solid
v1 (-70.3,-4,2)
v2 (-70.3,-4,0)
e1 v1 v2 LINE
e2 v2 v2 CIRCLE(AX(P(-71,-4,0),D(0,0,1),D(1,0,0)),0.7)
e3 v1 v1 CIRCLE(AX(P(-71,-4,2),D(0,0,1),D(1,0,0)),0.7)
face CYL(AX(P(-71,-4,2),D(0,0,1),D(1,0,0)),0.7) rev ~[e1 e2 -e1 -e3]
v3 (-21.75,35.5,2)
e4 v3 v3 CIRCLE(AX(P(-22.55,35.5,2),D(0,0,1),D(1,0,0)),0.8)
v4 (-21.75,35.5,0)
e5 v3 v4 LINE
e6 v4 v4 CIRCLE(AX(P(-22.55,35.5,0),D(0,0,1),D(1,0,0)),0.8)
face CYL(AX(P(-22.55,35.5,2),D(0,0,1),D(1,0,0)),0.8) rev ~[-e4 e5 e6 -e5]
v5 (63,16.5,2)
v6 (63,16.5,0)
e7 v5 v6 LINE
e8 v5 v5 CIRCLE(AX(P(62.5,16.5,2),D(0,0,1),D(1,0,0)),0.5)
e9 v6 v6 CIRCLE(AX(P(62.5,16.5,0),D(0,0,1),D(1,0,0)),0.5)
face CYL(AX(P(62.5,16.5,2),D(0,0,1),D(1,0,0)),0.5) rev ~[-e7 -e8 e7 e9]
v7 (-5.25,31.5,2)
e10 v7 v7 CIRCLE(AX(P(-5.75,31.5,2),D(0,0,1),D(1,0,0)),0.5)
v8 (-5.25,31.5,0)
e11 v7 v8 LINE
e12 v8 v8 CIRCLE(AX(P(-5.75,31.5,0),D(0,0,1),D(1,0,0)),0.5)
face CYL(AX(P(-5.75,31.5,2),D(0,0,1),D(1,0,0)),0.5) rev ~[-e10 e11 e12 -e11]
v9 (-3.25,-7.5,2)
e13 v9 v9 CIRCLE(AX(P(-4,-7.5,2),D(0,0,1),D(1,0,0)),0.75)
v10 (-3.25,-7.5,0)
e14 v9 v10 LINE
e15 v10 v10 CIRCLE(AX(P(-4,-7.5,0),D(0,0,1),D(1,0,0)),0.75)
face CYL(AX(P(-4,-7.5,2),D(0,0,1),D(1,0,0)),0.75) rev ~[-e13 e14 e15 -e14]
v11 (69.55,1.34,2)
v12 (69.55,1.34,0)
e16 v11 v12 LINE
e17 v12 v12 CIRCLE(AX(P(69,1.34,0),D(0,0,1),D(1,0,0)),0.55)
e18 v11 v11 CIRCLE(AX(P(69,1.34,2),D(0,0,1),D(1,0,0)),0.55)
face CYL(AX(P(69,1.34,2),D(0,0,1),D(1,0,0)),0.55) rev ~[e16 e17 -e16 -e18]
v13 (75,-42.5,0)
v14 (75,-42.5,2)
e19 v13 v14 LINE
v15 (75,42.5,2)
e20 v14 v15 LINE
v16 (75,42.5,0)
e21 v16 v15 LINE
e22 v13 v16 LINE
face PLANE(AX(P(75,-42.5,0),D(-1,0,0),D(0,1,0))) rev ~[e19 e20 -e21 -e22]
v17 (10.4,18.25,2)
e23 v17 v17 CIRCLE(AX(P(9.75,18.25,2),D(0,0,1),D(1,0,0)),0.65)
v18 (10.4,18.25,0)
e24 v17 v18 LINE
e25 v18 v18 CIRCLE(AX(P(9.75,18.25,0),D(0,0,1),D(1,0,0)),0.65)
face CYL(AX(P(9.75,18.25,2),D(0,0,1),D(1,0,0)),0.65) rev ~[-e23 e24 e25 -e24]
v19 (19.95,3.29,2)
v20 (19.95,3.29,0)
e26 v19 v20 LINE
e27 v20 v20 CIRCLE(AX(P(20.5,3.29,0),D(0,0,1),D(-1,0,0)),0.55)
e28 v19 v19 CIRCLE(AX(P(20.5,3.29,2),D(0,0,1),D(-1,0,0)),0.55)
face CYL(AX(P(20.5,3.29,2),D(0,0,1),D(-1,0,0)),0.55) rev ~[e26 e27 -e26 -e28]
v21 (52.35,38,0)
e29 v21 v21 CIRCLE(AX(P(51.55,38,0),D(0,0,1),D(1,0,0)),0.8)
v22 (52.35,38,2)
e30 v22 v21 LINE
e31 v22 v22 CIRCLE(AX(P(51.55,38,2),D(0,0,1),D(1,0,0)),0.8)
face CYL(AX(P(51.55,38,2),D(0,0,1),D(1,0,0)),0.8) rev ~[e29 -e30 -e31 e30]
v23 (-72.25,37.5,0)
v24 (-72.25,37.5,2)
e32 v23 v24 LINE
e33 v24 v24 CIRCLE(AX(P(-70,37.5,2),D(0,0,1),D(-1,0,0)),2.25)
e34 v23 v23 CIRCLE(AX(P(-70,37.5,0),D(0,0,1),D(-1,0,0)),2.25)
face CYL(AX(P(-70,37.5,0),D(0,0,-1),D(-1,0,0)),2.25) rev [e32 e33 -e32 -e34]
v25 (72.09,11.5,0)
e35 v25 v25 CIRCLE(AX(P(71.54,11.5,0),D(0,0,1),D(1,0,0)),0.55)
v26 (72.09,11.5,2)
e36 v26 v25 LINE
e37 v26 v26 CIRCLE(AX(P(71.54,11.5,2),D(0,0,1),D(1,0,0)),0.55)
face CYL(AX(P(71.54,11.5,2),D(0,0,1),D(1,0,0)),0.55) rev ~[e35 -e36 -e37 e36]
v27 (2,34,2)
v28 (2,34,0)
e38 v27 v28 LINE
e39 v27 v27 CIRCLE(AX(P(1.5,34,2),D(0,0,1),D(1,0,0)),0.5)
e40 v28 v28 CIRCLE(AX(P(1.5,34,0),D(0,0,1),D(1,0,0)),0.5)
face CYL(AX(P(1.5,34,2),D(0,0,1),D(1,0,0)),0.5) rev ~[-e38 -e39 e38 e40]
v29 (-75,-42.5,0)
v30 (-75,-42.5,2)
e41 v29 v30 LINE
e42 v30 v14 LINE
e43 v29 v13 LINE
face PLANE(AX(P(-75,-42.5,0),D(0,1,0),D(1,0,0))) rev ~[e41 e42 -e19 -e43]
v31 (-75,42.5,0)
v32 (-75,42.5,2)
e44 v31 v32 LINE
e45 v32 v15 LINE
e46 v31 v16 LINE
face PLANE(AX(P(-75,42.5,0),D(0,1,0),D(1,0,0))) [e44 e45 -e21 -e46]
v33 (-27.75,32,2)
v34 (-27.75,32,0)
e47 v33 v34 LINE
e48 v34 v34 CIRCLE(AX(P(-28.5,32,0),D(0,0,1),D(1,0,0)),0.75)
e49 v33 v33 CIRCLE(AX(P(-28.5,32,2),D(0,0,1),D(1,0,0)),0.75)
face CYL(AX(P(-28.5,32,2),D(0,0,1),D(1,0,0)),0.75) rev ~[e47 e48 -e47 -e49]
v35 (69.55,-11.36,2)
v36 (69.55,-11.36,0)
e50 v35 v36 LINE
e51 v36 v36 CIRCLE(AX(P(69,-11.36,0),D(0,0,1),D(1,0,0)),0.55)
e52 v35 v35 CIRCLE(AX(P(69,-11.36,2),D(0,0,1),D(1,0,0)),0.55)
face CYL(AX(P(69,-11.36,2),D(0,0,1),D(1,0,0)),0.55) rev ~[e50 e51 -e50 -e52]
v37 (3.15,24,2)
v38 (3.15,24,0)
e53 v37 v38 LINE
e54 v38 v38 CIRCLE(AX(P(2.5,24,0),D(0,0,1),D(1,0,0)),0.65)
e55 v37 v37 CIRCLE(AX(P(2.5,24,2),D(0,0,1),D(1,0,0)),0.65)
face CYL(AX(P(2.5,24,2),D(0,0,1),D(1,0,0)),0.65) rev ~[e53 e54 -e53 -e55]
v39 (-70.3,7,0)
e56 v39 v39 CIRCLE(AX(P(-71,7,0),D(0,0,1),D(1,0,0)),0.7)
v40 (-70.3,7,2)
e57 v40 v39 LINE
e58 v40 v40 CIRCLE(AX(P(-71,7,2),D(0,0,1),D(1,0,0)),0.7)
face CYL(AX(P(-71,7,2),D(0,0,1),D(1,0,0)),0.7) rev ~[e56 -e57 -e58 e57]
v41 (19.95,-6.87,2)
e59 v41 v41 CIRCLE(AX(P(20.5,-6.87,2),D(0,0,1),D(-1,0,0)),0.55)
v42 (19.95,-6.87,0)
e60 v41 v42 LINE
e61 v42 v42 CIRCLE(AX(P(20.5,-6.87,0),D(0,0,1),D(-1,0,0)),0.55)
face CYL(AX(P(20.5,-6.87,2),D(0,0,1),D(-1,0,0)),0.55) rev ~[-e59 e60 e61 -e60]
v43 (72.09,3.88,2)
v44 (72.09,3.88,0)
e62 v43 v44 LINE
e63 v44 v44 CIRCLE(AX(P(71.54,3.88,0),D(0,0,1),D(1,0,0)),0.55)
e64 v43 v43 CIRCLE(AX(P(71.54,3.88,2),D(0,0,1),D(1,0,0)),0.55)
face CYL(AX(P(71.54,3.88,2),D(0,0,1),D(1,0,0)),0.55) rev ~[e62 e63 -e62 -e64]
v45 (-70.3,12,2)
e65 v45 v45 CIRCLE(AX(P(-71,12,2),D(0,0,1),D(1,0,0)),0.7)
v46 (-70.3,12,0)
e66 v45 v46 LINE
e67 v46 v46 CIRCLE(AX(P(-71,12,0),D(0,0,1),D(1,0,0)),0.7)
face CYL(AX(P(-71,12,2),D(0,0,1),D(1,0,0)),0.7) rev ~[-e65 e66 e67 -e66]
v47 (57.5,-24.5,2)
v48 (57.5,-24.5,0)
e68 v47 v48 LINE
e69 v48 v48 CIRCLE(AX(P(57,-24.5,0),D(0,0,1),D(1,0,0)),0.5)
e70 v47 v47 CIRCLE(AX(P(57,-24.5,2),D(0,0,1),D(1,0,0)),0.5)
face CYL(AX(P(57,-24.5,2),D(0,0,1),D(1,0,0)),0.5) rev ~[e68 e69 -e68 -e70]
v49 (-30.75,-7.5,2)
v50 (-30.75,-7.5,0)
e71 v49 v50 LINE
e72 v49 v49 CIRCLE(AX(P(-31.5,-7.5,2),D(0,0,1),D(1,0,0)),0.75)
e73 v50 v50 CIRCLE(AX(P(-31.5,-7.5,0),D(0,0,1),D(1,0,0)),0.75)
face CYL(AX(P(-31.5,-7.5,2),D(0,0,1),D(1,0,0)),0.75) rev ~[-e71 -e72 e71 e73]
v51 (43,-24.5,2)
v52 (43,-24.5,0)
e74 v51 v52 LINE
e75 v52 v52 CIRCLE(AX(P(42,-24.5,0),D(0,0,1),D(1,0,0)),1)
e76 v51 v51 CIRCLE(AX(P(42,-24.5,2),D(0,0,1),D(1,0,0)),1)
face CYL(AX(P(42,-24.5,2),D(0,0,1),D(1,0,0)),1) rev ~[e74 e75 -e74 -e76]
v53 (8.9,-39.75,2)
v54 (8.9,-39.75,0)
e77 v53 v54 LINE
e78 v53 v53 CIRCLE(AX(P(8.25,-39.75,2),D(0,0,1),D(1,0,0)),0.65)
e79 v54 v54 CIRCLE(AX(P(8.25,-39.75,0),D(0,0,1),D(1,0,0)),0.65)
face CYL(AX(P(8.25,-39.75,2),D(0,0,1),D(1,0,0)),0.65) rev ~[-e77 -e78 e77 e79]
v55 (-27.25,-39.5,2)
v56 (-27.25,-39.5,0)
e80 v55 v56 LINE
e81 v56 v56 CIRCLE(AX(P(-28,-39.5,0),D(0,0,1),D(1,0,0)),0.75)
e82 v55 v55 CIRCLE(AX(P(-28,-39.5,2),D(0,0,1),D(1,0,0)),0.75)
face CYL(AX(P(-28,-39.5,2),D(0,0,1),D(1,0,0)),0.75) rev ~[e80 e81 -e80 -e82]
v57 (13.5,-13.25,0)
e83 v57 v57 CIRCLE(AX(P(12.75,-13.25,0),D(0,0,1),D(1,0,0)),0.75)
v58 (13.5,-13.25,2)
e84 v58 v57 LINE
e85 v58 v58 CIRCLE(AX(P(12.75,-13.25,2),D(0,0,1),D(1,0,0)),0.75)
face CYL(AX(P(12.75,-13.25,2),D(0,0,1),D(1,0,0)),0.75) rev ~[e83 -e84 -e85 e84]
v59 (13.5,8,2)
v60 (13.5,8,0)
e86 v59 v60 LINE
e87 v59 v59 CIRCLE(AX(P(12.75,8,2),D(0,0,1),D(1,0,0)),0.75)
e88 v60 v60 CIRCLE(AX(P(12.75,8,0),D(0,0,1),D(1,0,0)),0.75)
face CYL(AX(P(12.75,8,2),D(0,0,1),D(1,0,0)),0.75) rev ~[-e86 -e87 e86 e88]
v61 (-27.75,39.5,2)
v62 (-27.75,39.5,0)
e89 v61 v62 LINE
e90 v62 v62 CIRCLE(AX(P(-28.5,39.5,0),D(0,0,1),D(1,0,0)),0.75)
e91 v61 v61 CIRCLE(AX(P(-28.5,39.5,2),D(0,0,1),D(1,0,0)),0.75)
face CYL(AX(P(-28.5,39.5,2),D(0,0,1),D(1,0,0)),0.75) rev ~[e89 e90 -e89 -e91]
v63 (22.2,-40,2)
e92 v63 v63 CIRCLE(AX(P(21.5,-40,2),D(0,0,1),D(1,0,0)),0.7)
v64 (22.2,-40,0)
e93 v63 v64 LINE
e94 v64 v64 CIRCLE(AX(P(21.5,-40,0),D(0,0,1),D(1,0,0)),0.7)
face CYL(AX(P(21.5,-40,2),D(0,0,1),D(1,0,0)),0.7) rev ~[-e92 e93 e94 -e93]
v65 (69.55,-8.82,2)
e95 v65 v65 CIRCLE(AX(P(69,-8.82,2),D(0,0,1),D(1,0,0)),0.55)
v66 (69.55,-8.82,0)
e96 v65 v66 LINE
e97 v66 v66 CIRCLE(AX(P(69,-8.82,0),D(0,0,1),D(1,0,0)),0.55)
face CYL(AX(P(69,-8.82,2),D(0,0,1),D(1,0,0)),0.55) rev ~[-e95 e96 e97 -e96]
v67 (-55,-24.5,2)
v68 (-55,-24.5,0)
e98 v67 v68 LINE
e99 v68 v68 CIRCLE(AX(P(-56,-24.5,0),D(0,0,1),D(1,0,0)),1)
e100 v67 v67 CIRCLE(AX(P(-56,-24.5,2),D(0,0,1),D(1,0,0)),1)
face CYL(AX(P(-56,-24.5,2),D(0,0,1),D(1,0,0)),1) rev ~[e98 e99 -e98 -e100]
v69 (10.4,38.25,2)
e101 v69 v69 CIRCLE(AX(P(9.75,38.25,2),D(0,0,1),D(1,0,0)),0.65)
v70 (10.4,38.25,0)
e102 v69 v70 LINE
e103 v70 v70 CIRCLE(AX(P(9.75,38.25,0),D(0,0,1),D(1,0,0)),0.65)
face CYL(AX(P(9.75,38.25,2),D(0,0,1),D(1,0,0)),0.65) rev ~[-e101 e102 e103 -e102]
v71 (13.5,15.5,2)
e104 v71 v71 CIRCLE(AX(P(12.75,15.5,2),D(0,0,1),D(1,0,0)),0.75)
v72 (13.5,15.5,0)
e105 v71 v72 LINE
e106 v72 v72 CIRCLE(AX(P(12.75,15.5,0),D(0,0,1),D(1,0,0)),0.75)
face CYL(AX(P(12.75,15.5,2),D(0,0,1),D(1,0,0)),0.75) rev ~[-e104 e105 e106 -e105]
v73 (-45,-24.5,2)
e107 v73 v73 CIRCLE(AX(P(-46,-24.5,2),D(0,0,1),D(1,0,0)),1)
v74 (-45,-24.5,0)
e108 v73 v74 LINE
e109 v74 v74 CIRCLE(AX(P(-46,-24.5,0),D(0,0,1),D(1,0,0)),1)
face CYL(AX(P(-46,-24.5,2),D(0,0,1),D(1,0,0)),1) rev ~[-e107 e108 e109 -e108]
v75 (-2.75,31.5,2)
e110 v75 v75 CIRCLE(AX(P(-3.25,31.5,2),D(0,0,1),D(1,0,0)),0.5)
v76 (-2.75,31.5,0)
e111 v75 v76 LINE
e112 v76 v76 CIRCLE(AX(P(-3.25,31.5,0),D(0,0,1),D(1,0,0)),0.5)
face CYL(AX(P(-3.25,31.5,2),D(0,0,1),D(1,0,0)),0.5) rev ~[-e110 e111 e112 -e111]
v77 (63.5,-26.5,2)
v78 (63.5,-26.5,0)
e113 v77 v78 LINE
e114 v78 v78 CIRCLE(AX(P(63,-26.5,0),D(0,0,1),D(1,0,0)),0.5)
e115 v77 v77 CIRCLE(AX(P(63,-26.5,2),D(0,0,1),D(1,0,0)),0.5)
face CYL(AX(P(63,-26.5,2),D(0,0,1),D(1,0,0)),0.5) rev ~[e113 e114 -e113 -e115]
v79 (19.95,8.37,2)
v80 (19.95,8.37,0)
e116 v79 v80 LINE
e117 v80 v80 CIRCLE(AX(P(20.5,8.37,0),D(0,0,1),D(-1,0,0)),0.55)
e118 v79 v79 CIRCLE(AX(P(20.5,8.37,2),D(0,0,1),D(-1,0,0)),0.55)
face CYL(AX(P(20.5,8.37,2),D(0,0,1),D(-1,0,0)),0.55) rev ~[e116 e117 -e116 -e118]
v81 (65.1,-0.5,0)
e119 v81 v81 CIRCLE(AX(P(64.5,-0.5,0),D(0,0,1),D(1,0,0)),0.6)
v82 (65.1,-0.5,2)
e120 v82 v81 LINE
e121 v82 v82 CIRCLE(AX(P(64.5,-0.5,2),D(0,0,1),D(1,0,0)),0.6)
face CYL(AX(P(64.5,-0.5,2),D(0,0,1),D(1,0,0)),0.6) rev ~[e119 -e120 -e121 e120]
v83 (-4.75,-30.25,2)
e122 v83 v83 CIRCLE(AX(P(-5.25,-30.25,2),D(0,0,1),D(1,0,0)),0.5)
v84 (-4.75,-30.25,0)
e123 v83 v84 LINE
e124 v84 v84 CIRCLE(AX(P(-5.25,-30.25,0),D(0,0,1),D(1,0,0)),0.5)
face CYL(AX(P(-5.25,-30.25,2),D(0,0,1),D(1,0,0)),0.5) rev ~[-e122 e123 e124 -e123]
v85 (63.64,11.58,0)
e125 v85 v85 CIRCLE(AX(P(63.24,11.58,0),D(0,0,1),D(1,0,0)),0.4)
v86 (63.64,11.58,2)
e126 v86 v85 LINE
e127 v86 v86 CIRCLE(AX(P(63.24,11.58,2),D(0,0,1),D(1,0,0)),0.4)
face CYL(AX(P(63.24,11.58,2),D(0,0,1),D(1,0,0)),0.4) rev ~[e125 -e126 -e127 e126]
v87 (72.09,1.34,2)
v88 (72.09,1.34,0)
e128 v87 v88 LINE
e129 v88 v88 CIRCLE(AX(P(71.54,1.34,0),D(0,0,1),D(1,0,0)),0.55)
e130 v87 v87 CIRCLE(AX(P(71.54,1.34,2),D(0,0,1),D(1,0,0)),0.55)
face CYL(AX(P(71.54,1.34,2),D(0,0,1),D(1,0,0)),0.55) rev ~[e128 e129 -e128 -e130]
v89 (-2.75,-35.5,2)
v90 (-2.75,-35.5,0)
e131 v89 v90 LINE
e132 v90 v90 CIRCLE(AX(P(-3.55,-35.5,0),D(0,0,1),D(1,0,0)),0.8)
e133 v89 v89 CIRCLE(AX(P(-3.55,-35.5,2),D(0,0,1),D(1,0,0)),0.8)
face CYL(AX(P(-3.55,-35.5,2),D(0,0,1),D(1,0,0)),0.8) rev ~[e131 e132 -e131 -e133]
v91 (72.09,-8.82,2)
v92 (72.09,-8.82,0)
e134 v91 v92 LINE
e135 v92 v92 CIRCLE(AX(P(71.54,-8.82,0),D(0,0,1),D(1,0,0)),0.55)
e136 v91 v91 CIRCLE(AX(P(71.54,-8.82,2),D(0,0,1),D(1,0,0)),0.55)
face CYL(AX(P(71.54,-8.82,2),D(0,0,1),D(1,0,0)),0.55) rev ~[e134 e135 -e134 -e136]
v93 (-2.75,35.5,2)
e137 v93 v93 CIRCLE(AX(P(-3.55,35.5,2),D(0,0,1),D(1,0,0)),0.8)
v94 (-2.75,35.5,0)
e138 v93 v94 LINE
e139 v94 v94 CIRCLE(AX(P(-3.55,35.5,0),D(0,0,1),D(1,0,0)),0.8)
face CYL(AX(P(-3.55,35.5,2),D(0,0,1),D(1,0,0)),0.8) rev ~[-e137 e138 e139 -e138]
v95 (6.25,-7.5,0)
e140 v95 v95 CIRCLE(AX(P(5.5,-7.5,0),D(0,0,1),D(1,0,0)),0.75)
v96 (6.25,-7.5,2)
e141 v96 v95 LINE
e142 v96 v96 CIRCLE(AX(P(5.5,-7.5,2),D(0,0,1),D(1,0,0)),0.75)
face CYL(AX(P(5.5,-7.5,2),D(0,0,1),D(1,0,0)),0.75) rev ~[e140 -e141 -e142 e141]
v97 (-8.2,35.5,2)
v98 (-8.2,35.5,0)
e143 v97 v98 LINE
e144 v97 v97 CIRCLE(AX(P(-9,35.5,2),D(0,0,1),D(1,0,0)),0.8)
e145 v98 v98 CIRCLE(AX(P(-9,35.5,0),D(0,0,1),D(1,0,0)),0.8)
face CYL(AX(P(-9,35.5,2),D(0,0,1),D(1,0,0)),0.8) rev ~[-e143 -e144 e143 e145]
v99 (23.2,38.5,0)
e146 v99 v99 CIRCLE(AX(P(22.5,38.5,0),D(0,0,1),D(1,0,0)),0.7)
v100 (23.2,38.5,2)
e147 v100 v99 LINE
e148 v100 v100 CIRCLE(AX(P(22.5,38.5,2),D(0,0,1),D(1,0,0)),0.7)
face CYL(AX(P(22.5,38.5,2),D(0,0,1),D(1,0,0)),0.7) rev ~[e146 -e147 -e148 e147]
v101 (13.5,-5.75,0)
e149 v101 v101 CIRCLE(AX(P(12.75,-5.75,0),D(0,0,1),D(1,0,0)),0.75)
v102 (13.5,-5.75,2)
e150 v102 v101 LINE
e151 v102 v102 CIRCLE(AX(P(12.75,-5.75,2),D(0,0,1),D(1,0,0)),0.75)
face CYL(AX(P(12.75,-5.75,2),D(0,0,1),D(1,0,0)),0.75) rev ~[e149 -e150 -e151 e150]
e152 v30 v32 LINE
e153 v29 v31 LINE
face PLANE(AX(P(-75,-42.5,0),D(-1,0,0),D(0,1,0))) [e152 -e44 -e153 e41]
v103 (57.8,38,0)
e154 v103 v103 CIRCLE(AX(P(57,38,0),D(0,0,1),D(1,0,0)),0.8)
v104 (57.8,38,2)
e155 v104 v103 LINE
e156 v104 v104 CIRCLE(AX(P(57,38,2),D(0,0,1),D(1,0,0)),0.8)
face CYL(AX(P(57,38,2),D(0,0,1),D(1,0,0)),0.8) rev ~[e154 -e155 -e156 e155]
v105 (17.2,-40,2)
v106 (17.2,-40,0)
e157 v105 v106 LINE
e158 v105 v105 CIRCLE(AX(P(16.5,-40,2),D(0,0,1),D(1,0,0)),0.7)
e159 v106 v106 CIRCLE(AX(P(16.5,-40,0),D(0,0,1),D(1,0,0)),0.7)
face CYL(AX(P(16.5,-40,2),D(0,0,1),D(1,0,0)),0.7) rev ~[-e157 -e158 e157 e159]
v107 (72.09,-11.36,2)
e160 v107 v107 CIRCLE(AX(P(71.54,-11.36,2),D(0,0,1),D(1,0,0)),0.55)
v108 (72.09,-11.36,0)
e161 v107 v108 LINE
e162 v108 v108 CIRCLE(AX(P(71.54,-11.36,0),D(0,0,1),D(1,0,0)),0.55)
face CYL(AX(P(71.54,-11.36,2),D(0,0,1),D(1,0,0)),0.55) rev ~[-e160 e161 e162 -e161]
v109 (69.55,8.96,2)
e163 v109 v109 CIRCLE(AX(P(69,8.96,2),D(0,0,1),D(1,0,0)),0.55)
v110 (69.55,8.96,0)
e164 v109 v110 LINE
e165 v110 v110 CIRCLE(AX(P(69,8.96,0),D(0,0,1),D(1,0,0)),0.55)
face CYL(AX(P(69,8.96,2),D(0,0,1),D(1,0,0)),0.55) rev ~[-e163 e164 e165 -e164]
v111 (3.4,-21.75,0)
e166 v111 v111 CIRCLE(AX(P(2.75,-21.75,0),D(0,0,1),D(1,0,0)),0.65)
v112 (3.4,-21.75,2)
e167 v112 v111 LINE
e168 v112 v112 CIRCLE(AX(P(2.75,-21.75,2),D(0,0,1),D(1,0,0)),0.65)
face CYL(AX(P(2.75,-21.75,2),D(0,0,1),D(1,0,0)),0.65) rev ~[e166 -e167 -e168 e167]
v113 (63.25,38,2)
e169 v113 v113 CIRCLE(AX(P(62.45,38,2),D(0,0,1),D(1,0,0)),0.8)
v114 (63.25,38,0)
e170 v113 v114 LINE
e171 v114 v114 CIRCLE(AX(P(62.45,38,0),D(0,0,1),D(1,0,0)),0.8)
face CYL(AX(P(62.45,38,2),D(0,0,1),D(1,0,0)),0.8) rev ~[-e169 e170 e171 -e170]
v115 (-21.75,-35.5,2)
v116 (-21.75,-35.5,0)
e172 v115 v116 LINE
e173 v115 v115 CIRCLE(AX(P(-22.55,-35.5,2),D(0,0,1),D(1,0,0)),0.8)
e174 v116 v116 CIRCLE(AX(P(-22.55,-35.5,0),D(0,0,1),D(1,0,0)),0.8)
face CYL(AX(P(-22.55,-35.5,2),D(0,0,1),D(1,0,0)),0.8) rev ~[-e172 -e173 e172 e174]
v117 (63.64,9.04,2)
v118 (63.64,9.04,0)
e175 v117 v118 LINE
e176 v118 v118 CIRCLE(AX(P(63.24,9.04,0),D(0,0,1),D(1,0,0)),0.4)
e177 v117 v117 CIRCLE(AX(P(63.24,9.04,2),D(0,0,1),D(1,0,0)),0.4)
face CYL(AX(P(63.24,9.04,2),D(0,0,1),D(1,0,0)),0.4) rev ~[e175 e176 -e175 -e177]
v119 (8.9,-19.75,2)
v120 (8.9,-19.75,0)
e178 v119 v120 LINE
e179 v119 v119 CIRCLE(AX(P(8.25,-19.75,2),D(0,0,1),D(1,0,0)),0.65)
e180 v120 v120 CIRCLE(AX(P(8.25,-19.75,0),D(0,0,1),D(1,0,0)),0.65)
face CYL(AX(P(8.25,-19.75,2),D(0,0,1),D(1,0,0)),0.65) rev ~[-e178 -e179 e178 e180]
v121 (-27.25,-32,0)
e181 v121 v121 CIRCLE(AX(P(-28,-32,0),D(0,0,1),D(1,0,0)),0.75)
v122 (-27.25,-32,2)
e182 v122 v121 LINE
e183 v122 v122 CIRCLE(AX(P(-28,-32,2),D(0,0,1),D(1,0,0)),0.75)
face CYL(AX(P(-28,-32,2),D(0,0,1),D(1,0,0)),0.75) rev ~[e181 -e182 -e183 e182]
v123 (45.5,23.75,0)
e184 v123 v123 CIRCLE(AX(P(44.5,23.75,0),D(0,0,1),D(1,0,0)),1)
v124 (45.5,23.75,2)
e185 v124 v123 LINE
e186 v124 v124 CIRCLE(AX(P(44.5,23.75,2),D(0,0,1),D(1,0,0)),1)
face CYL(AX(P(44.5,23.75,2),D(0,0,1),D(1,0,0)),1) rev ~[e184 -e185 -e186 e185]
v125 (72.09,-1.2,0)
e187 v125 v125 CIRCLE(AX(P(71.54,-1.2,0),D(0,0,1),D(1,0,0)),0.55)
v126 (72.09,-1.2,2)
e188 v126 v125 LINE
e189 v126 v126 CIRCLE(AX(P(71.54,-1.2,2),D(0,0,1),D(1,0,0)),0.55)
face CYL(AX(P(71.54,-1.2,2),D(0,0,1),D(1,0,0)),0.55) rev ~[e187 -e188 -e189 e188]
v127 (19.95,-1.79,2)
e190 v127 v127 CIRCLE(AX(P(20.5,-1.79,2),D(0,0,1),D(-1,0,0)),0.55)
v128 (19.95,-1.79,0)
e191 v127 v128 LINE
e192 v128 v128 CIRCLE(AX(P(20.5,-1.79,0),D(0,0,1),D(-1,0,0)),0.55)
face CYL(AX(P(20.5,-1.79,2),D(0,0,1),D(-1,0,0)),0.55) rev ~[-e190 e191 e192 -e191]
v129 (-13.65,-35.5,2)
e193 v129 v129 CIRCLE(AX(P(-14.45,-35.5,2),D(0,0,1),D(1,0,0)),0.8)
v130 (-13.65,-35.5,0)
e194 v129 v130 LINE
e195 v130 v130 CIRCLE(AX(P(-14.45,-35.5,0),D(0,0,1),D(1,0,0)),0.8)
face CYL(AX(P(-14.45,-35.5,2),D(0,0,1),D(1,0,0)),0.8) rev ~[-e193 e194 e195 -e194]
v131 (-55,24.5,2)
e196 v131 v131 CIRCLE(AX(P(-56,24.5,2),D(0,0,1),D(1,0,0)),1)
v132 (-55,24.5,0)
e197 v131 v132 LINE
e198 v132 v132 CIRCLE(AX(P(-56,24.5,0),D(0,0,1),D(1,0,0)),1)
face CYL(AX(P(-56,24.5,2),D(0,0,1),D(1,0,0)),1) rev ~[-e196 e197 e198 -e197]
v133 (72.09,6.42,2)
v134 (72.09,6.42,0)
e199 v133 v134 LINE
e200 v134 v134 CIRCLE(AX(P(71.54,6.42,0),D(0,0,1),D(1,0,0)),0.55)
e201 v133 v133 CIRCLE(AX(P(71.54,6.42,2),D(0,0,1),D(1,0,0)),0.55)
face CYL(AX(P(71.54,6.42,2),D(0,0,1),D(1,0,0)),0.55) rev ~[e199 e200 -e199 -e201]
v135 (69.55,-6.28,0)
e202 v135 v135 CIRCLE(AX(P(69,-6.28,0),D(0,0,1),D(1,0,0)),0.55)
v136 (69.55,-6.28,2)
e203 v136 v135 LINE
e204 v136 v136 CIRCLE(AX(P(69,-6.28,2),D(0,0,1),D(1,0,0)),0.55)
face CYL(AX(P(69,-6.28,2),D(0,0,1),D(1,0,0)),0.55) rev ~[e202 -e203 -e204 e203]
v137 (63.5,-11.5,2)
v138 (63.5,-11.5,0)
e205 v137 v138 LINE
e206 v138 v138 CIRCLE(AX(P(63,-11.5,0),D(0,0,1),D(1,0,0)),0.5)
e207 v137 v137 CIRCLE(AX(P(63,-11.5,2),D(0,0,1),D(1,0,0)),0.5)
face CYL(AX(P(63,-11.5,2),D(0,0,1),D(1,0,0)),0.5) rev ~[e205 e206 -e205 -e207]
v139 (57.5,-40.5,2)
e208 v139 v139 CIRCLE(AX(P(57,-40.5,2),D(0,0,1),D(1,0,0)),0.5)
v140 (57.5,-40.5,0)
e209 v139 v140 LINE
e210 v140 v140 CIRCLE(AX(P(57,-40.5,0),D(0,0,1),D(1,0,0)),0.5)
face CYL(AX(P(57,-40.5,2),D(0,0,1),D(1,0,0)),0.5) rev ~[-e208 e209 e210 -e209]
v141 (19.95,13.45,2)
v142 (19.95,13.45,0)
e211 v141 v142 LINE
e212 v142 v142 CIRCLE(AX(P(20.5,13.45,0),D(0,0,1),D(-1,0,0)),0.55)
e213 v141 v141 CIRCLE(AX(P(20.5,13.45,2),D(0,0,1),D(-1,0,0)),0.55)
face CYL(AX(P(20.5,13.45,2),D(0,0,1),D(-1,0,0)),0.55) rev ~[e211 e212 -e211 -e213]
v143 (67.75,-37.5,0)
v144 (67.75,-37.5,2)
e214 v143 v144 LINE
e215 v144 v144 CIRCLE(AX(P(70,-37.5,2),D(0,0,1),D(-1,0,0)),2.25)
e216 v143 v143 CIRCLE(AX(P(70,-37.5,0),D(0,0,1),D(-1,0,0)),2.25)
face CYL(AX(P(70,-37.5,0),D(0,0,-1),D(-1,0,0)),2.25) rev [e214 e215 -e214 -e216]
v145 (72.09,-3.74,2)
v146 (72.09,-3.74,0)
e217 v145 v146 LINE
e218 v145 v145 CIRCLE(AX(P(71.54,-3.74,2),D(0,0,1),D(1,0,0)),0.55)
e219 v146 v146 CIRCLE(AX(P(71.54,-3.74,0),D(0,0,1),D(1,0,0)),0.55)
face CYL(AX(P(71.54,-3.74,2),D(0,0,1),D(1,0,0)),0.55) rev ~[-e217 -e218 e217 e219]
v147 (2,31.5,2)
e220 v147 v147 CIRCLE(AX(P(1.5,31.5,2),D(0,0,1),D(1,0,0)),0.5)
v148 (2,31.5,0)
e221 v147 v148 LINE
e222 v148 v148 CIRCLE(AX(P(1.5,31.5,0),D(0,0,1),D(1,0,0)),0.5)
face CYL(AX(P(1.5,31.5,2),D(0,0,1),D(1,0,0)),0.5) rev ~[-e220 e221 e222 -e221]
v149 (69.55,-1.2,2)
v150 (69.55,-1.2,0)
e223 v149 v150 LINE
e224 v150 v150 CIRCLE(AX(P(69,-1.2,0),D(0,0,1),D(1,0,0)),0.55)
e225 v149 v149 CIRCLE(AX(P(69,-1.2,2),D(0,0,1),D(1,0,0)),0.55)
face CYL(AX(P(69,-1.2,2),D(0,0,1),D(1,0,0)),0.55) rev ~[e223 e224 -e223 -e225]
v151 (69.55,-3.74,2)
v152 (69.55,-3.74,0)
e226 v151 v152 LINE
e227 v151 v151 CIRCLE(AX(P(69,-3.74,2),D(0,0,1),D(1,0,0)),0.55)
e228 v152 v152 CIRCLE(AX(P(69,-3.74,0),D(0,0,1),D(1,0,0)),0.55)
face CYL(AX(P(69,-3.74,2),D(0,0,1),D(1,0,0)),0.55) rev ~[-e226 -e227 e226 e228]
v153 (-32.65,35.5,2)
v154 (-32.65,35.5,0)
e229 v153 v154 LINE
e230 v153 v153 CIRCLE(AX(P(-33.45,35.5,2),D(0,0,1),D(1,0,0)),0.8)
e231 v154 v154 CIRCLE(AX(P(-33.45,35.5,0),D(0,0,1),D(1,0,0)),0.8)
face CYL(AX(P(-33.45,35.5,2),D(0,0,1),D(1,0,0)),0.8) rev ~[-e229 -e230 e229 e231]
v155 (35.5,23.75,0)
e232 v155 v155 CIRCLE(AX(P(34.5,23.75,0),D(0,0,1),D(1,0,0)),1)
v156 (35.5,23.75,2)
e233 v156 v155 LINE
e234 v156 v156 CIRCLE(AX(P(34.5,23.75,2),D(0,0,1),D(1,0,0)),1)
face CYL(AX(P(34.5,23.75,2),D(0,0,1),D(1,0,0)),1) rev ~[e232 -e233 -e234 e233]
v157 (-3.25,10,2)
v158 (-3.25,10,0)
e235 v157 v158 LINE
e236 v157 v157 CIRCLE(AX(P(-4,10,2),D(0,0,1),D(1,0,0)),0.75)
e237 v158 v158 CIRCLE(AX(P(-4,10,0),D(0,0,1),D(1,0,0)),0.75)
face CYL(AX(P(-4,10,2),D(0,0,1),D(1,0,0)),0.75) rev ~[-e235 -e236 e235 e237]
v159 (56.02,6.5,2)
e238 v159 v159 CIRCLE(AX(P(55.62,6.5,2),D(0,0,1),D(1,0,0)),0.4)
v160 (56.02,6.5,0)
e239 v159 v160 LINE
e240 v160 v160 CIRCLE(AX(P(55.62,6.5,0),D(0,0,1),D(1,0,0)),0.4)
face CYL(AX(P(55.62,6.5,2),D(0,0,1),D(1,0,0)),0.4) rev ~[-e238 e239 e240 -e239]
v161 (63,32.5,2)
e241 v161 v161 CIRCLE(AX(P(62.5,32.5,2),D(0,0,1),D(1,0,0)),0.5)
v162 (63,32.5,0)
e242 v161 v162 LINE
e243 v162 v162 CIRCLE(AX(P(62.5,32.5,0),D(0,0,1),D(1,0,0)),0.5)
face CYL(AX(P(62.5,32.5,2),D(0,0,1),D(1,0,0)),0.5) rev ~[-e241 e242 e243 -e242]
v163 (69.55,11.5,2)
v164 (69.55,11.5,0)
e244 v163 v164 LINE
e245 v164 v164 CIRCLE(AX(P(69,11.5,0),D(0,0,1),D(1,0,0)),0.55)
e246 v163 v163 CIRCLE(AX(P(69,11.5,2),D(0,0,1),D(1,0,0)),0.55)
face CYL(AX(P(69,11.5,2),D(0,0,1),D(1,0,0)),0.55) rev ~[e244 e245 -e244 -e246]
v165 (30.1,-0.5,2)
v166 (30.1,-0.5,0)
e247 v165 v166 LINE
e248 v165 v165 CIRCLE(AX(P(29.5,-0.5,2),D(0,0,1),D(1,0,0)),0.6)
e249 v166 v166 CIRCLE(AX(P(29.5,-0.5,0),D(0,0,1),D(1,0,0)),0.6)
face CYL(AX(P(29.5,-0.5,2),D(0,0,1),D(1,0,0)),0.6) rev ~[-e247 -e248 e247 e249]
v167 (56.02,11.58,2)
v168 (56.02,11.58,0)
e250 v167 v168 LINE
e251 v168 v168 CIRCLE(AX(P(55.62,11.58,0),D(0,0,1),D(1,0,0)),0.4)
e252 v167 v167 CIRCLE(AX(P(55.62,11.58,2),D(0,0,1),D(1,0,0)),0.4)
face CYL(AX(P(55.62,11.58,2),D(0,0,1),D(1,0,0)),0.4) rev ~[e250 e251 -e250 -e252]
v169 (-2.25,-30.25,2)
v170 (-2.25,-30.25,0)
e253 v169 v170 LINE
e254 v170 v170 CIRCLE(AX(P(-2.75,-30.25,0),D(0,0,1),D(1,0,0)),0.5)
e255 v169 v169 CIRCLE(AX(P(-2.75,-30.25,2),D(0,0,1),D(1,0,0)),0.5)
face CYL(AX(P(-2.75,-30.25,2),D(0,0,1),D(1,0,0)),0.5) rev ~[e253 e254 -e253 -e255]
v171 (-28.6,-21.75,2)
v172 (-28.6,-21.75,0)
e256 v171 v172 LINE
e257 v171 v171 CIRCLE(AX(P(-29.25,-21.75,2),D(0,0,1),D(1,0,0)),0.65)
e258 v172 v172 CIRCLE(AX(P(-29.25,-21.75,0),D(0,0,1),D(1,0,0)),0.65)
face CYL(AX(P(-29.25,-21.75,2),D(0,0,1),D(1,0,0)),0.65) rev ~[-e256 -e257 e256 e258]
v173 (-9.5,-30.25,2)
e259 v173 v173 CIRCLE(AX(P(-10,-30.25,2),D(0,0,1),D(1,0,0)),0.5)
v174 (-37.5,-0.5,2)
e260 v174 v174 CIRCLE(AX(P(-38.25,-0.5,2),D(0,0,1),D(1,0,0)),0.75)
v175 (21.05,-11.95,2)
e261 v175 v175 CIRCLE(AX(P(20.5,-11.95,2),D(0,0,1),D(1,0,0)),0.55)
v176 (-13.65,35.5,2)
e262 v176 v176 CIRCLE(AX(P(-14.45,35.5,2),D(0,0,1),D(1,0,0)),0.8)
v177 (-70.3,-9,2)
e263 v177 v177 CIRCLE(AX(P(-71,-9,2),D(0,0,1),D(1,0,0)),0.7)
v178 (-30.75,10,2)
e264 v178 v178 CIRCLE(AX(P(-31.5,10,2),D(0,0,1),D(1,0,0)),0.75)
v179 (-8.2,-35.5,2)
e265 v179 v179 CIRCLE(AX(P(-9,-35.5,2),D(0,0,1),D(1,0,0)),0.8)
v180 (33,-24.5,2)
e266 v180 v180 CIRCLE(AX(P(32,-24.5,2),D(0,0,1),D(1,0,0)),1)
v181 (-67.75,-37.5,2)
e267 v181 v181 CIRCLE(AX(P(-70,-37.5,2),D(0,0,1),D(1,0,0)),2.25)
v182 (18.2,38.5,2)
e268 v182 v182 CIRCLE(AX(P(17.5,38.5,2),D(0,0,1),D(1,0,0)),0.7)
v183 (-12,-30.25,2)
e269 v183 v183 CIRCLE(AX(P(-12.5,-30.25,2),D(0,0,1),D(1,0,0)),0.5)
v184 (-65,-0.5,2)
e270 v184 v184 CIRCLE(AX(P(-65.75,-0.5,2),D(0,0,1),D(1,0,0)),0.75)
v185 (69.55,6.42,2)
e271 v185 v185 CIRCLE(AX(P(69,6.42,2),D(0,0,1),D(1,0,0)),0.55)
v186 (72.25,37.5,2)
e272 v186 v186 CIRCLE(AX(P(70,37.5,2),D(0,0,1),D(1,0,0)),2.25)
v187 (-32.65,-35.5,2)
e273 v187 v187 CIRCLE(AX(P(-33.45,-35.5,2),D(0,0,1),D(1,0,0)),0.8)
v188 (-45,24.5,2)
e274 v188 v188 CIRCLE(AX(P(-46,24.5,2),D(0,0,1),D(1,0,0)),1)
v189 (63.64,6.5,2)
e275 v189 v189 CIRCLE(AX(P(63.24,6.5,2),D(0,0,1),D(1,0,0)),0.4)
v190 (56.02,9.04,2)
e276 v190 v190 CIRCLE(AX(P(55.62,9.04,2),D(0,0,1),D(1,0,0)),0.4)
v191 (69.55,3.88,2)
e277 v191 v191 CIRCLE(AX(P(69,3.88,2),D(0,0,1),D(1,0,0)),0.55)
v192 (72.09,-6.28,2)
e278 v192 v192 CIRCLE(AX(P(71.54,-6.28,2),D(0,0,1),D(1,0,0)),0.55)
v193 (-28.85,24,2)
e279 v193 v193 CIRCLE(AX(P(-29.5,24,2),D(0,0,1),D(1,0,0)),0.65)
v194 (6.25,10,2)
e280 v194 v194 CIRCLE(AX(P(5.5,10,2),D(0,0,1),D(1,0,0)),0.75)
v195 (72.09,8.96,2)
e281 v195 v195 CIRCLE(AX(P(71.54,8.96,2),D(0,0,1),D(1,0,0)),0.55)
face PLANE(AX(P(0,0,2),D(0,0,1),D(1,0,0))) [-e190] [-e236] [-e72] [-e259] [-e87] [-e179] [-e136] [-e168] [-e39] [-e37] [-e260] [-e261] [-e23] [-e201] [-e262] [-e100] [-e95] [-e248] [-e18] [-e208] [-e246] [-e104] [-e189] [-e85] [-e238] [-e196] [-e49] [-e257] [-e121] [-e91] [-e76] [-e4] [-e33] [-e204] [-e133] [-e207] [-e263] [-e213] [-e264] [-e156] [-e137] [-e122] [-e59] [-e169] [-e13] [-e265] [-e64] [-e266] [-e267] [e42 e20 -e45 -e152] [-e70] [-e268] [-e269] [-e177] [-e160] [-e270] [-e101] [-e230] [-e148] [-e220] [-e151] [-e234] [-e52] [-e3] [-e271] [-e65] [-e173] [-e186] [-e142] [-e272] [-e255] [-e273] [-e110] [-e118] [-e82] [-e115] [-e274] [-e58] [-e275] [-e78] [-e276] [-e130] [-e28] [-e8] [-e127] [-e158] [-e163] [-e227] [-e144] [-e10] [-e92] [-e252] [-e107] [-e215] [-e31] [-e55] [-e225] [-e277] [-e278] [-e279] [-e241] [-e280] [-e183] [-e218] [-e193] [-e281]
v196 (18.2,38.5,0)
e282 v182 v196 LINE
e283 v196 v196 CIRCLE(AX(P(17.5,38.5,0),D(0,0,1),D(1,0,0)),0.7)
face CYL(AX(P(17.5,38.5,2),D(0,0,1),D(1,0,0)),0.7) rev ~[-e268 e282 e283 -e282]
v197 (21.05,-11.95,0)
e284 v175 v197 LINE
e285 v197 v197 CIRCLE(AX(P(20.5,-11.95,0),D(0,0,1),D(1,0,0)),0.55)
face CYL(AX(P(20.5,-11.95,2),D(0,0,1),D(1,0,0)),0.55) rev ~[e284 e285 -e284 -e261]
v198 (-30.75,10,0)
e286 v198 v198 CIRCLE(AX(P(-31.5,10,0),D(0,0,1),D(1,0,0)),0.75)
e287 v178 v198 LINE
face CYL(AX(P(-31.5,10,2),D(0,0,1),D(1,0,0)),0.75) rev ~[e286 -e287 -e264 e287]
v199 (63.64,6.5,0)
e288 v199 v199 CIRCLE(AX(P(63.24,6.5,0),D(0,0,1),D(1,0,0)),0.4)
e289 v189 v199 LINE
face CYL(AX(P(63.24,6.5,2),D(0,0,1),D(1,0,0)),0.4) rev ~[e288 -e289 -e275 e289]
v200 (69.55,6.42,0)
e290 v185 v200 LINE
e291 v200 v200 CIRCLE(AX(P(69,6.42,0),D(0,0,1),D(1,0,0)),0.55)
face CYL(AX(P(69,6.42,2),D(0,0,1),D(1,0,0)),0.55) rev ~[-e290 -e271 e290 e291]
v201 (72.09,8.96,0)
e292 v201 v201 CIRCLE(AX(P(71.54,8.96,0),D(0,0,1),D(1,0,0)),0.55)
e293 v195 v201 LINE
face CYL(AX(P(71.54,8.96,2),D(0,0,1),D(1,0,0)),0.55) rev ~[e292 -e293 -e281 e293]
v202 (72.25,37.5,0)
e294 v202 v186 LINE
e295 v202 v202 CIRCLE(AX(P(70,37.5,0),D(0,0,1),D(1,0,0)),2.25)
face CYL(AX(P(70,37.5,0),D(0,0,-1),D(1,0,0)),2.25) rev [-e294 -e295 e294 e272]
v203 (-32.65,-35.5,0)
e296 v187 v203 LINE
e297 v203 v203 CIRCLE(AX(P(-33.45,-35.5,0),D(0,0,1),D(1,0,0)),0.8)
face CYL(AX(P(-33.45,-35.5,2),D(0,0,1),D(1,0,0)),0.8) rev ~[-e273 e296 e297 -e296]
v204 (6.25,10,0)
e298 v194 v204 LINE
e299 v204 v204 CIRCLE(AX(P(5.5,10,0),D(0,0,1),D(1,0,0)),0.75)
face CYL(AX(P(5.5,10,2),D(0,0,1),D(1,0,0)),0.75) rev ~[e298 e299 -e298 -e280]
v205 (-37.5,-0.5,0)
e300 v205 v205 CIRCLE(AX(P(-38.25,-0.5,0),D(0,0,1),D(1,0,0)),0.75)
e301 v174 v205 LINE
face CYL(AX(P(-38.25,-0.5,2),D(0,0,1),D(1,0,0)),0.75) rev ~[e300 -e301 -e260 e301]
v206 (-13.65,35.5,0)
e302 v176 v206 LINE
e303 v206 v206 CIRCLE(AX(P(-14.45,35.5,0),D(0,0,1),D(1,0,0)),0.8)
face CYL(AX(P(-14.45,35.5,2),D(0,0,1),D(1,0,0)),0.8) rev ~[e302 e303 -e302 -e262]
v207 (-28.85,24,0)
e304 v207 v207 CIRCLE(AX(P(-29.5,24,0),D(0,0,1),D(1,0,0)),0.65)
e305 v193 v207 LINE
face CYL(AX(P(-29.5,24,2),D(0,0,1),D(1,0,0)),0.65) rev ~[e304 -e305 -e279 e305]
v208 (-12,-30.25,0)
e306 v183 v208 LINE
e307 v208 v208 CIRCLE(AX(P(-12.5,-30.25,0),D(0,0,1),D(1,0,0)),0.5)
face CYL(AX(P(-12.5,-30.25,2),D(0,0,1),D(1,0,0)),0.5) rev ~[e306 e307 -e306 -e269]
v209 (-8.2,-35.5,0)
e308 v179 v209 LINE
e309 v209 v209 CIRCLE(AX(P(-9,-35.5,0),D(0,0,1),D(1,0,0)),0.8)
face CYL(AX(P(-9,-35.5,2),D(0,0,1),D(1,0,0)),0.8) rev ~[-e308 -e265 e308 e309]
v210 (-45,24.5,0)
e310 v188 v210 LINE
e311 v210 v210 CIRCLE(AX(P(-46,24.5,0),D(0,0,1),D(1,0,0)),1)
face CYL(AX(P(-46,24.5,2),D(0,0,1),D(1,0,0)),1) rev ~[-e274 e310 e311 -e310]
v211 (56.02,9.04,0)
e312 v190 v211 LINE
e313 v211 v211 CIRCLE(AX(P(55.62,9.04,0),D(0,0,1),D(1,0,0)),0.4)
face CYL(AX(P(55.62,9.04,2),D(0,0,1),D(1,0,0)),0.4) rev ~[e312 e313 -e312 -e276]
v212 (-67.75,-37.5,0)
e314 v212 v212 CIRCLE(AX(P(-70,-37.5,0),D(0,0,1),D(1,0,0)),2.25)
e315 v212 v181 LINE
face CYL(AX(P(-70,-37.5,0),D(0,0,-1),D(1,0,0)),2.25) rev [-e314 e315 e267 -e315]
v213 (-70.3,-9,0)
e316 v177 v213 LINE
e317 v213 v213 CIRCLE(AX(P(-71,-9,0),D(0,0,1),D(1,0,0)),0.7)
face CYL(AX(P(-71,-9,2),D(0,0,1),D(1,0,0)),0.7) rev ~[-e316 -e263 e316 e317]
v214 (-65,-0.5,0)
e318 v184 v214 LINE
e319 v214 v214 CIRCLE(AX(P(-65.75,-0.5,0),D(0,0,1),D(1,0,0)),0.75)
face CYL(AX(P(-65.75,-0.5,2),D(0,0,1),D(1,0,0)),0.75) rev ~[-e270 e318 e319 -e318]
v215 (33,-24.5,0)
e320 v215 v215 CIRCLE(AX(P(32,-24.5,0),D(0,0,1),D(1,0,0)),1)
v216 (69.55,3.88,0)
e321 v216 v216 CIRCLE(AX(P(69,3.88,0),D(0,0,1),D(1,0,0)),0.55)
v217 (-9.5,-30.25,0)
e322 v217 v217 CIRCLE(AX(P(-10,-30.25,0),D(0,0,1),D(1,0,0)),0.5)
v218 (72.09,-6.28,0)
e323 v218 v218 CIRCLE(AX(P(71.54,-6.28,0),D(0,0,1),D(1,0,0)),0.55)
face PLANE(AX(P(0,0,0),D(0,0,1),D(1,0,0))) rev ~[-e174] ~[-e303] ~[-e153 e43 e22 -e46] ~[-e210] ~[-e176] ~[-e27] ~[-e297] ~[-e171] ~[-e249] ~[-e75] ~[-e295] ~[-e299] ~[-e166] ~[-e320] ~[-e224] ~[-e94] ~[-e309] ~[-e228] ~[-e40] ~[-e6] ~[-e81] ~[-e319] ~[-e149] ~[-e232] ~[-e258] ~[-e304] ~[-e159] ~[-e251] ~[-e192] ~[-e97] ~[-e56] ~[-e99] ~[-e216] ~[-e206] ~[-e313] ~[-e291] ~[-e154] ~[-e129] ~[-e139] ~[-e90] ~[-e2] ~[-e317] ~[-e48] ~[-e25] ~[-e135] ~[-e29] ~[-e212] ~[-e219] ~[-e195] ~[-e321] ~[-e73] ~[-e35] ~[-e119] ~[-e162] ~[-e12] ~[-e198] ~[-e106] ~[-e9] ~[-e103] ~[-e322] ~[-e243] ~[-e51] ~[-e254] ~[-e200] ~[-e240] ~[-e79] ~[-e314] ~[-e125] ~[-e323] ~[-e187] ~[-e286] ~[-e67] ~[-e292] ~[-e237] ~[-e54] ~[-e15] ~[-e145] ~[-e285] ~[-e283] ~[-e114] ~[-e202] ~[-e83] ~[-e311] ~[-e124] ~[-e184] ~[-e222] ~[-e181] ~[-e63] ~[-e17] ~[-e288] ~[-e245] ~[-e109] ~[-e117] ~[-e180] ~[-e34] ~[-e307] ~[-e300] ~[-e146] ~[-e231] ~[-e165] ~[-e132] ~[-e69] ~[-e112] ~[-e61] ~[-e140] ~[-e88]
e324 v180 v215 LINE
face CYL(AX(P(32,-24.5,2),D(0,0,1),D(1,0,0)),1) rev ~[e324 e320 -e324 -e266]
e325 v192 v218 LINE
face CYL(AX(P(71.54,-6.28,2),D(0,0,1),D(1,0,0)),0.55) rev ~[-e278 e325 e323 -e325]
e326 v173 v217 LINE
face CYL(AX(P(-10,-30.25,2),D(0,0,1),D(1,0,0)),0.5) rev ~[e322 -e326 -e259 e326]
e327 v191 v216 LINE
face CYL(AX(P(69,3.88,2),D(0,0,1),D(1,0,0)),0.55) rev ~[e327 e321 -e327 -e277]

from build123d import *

# Parameters (mm, degrees)
SKETCH_1_W          = 150
SKETCH_1_H          = 85
SKETCH_1_R          = 2.25
EXTRUDE_1_DEPTH     = 2
SKETCH_2_R          = 0.55
SKETCH_2_R_2        = 0.5
SKETCH_2_R_3        = 0.8
CUT_EXTRUDE_1_DEPTH = 2
SKETCH_3_R          = 1
SKETCH_3_R_2        = 0.7
SKETCH_3_R_3        = 0.5
SKETCH_3_R_4        = 0.4
SKETCH_3_R_5        = 0.6
CUT_EXTRUDE_2_DEPTH = 10
SKETCH_4_R          = 0.75
SKETCH_4_R_2        = 0.65
CUT_EXTRUDE_3_DEPTH = 10
SKETCH_5_R          = 0.5
CUT_EXTRUDE_4_DEPTH = 10


with BuildPart() as part:
    # Эскиз1 → Вытянуть1 (new body)
    with BuildSketch(Plane.XY):
        Rectangle(SKETCH_1_W, SKETCH_1_H)
        with Locations((-70, -37.5)):
            Circle(SKETCH_1_R, mode=Mode.SUBTRACT)
        with Locations(Location((70, -37.5, 0), (0, 0, 180))):
            Circle(SKETCH_1_R, mode=Mode.SUBTRACT)
        with Locations((70, 37.5)):
            Circle(SKETCH_1_R, mode=Mode.SUBTRACT)
        with Locations(Location((-70, 37.5, 0), (0, 0, 180))):
            Circle(SKETCH_1_R, mode=Mode.SUBTRACT)
    extrude(amount=EXTRUDE_1_DEPTH)

    # Эскиз2 → Вырез-Вытянуть1 (cut)
    with BuildSketch(Plane.XY.offset(2)):
        with Locations((69, 11.5)):
            Circle(SKETCH_2_R)
        with Locations((71.54, 11.5)):
            Circle(SKETCH_2_R)
        with Locations((69, 8.96)):
            Circle(SKETCH_2_R)
        with Locations((71.54, 8.96)):
            Circle(SKETCH_2_R)
        with Locations((69, 6.42)):
            Circle(SKETCH_2_R)
        with Locations((71.54, 6.42)):
            Circle(SKETCH_2_R)
        with Locations((69, 3.88)):
            Circle(SKETCH_2_R)
        with Locations((71.54, 3.88)):
            Circle(SKETCH_2_R)
        with Locations((69, 1.34)):
            Circle(SKETCH_2_R)
        with Locations((71.54, 1.34)):
            Circle(SKETCH_2_R)
        with Locations((69, -1.2)):
            Circle(SKETCH_2_R)
        with Locations((71.54, -1.2)):
            Circle(SKETCH_2_R)
        with Locations((69, -3.74)):
            Circle(SKETCH_2_R)
        with Locations((71.54, -3.74)):
            Circle(SKETCH_2_R)
        with Locations((69, -6.28)):
            Circle(SKETCH_2_R)
        with Locations((71.54, -6.28)):
            Circle(SKETCH_2_R)
        with Locations((69, -8.82)):
            Circle(SKETCH_2_R)
        with Locations((71.54, -8.82)):
            Circle(SKETCH_2_R)
        with Locations((69, -11.36)):
            Circle(SKETCH_2_R)
        with Locations((71.54, -11.36)):
            Circle(SKETCH_2_R)
        with Locations((63, -26.5)):
            Circle(SKETCH_2_R_2)
        with Locations((63, -11.5)):
            Circle(SKETCH_2_R_2)
        with Locations((-14.45, 35.5)):
            Circle(SKETCH_2_R_3)
        with Locations((-9, 35.5)):
            Circle(SKETCH_2_R_3)
        with Locations((-3.55, 35.5)):
            Circle(SKETCH_2_R_3)
        with Locations((-33.45, 35.5)):
            Circle(SKETCH_2_R_3)
        with Locations((51.55, 38)):
            Circle(SKETCH_2_R_3)
        with Locations((-22.55, 35.5)):
            Circle(SKETCH_2_R_3)
        with Locations((-33.45, -35.5)):
            Circle(SKETCH_2_R_3)
        with Locations((57, 38)):
            Circle(SKETCH_2_R_3)
        with Locations((-22.55, -35.5)):
            Circle(SKETCH_2_R_3)
        with Locations((-14.45, -35.5)):
            Circle(SKETCH_2_R_3)
        with Locations((-9, -35.5)):
            Circle(SKETCH_2_R_3)
        with Locations((-3.55, -35.5)):
            Circle(SKETCH_2_R_3)
        with Locations((62.45, 38)):
            Circle(SKETCH_2_R_3)
        with Locations(Location((20.5, 13.45, 0), (0, 0, 180))):
            Circle(SKETCH_2_R)
        with Locations(Location((20.5, 8.37, 0), (0, 0, 180))):
            Circle(SKETCH_2_R)
        with Locations(Location((20.5, -1.79, 0), (0, 0, 180))):
            Circle(SKETCH_2_R)
        with Locations(Location((20.5, 3.29, 0), (0, 0, 180))):
            Circle(SKETCH_2_R)
        with Locations(Location((20.5, -6.87, 0), (0, 0, 180))):
            Circle(SKETCH_2_R)
        with Locations((20.5, -11.95)):
            Circle(SKETCH_2_R)
    extrude(amount=-CUT_EXTRUDE_1_DEPTH, mode=Mode.SUBTRACT)

    # Эскиз3 → Вырез-Вытянуть2 (cut)
    with BuildSketch(Plane.XY.offset(2)):
        with Locations((-56, 24.5)):
            Circle(SKETCH_3_R)
        with Locations((-46, 24.5)):
            Circle(SKETCH_3_R)
        with Locations((-56, -24.5)):
            Circle(SKETCH_3_R)
        with Locations((-46, -24.5)):
            Circle(SKETCH_3_R)
        with Locations((16.5, -40)):
            Circle(SKETCH_3_R_2)
        with Locations((21.5, -40)):
            Circle(SKETCH_3_R_2)
        with Locations((-71, 7)):
            Circle(SKETCH_3_R_2)
        with Locations((-71, 12)):
            Circle(SKETCH_3_R_2)
        with Locations((-71, -9)):
            Circle(SKETCH_3_R_2)
        with Locations((-71, -4)):
            Circle(SKETCH_3_R_2)
        with Locations((57, -40.5)):
            Circle(SKETCH_3_R_3)
        with Locations((57, -24.5)):
            Circle(SKETCH_3_R_3)
        with Locations((34.5, 23.75)):
            Circle(SKETCH_3_R)
        with Locations((44.5, 23.75)):
            Circle(SKETCH_3_R)
        with Locations((32, -24.5)):
            Circle(SKETCH_3_R)
        with Locations((42, -24.5)):
            Circle(SKETCH_3_R)
        with Locations((17.5, 38.5)):
            Circle(SKETCH_3_R_2)
        with Locations((62.5, 16.5)):
            Circle(SKETCH_3_R_3)
        with Locations((62.5, 32.5)):
            Circle(SKETCH_3_R_3)
        with Locations((63.24, 11.58)):
            Circle(SKETCH_3_R_4)
        with Locations((63.24, 6.5)):
            Circle(SKETCH_3_R_4)
        with Locations((55.62, 9.04)):
            Circle(SKETCH_3_R_4)
        with Locations((63.24, 9.04)):
            Circle(SKETCH_3_R_4)
        with Locations((55.62, 6.5)):
            Circle(SKETCH_3_R_4)
        with Locations((55.62, 11.58)):
            Circle(SKETCH_3_R_4)
        with Locations((22.5, 38.5)):
            Circle(SKETCH_3_R_2)
        with Locations((64.5, -0.5)):
            Circle(SKETCH_3_R_5)
        with Locations((29.5, -0.5)):
            Circle(SKETCH_3_R_5)
    extrude(amount=-CUT_EXTRUDE_2_DEPTH, mode=Mode.SUBTRACT)

    # Эскиз4 → Вырез-Вытянуть3 (cut)
    with BuildSketch(Plane.XY.offset(2)):
        with Locations((12.75, -5.75)):
            Circle(SKETCH_4_R)
        with Locations((-29.5, 24)):
            Circle(SKETCH_4_R_2)
        with Locations((12.75, -13.25)):
            Circle(SKETCH_4_R)
        with Locations((5.5, 10)):
            Circle(SKETCH_4_R)
        with Locations((2.5, 24)):
            Circle(SKETCH_4_R_2)
        with Locations((12.75, 15.5)):
            Circle(SKETCH_4_R)
        with Locations((5.5, -7.5)):
            Circle(SKETCH_4_R)
        with Locations((-65.75, -0.5)):
            Circle(SKETCH_4_R)
        with Locations((12.75, 8)):
            Circle(SKETCH_4_R)
        with Locations((8.25, -39.75)):
            Circle(SKETCH_4_R_2)
        with Locations((8.25, -19.75)):
            Circle(SKETCH_4_R_2)
        with Locations((-38.25, -0.5)):
            Circle(SKETCH_4_R)
        with Locations((9.75, 18.25)):
            Circle(SKETCH_4_R_2)
        with Locations((9.75, 38.25)):
            Circle(SKETCH_4_R_2)
        with Locations((-28.5, 39.5)):
            Circle(SKETCH_4_R)
        with Locations((-31.5, 10)):
            Circle(SKETCH_4_R)
        with Locations((-4, 10)):
            Circle(SKETCH_4_R)
        with Locations((-28.5, 32)):
            Circle(SKETCH_4_R)
        with Locations((-28, -32)):
            Circle(SKETCH_4_R)
        with Locations((-28, -39.5)):
            Circle(SKETCH_4_R)
        with Locations((-31.5, -7.5)):
            Circle(SKETCH_4_R)
        with Locations((-4, -7.5)):
            Circle(SKETCH_4_R)
        with Locations((-29.25, -21.75)):
            Circle(SKETCH_4_R_2)
        with Locations((2.75, -21.75)):
            Circle(SKETCH_4_R_2)
    extrude(amount=-CUT_EXTRUDE_3_DEPTH, mode=Mode.SUBTRACT)

    # Эскиз5 → Вырез-Вытянуть4 (cut)
    with BuildSketch(Plane.XY.offset(2)):
        with Locations((1.5, 34)):
            Circle(SKETCH_5_R)
        with Locations((1.5, 31.5)):
            Circle(SKETCH_5_R)
        with Locations((-5.75, 31.5)):
            Circle(SKETCH_5_R)
        with Locations((-3.25, 31.5)):
            Circle(SKETCH_5_R)
        with Locations((-5.25, -30.25)):
            Circle(SKETCH_5_R)
        with Locations((-2.75, -30.25)):
            Circle(SKETCH_5_R)
        with Locations((-10, -30.25)):
            Circle(SKETCH_5_R)
        with Locations((-12.5, -30.25)):
            Circle(SKETCH_5_R)
    extrude(amount=-CUT_EXTRUDE_4_DEPTH, mode=Mode.SUBTRACT)


solid = part.part
